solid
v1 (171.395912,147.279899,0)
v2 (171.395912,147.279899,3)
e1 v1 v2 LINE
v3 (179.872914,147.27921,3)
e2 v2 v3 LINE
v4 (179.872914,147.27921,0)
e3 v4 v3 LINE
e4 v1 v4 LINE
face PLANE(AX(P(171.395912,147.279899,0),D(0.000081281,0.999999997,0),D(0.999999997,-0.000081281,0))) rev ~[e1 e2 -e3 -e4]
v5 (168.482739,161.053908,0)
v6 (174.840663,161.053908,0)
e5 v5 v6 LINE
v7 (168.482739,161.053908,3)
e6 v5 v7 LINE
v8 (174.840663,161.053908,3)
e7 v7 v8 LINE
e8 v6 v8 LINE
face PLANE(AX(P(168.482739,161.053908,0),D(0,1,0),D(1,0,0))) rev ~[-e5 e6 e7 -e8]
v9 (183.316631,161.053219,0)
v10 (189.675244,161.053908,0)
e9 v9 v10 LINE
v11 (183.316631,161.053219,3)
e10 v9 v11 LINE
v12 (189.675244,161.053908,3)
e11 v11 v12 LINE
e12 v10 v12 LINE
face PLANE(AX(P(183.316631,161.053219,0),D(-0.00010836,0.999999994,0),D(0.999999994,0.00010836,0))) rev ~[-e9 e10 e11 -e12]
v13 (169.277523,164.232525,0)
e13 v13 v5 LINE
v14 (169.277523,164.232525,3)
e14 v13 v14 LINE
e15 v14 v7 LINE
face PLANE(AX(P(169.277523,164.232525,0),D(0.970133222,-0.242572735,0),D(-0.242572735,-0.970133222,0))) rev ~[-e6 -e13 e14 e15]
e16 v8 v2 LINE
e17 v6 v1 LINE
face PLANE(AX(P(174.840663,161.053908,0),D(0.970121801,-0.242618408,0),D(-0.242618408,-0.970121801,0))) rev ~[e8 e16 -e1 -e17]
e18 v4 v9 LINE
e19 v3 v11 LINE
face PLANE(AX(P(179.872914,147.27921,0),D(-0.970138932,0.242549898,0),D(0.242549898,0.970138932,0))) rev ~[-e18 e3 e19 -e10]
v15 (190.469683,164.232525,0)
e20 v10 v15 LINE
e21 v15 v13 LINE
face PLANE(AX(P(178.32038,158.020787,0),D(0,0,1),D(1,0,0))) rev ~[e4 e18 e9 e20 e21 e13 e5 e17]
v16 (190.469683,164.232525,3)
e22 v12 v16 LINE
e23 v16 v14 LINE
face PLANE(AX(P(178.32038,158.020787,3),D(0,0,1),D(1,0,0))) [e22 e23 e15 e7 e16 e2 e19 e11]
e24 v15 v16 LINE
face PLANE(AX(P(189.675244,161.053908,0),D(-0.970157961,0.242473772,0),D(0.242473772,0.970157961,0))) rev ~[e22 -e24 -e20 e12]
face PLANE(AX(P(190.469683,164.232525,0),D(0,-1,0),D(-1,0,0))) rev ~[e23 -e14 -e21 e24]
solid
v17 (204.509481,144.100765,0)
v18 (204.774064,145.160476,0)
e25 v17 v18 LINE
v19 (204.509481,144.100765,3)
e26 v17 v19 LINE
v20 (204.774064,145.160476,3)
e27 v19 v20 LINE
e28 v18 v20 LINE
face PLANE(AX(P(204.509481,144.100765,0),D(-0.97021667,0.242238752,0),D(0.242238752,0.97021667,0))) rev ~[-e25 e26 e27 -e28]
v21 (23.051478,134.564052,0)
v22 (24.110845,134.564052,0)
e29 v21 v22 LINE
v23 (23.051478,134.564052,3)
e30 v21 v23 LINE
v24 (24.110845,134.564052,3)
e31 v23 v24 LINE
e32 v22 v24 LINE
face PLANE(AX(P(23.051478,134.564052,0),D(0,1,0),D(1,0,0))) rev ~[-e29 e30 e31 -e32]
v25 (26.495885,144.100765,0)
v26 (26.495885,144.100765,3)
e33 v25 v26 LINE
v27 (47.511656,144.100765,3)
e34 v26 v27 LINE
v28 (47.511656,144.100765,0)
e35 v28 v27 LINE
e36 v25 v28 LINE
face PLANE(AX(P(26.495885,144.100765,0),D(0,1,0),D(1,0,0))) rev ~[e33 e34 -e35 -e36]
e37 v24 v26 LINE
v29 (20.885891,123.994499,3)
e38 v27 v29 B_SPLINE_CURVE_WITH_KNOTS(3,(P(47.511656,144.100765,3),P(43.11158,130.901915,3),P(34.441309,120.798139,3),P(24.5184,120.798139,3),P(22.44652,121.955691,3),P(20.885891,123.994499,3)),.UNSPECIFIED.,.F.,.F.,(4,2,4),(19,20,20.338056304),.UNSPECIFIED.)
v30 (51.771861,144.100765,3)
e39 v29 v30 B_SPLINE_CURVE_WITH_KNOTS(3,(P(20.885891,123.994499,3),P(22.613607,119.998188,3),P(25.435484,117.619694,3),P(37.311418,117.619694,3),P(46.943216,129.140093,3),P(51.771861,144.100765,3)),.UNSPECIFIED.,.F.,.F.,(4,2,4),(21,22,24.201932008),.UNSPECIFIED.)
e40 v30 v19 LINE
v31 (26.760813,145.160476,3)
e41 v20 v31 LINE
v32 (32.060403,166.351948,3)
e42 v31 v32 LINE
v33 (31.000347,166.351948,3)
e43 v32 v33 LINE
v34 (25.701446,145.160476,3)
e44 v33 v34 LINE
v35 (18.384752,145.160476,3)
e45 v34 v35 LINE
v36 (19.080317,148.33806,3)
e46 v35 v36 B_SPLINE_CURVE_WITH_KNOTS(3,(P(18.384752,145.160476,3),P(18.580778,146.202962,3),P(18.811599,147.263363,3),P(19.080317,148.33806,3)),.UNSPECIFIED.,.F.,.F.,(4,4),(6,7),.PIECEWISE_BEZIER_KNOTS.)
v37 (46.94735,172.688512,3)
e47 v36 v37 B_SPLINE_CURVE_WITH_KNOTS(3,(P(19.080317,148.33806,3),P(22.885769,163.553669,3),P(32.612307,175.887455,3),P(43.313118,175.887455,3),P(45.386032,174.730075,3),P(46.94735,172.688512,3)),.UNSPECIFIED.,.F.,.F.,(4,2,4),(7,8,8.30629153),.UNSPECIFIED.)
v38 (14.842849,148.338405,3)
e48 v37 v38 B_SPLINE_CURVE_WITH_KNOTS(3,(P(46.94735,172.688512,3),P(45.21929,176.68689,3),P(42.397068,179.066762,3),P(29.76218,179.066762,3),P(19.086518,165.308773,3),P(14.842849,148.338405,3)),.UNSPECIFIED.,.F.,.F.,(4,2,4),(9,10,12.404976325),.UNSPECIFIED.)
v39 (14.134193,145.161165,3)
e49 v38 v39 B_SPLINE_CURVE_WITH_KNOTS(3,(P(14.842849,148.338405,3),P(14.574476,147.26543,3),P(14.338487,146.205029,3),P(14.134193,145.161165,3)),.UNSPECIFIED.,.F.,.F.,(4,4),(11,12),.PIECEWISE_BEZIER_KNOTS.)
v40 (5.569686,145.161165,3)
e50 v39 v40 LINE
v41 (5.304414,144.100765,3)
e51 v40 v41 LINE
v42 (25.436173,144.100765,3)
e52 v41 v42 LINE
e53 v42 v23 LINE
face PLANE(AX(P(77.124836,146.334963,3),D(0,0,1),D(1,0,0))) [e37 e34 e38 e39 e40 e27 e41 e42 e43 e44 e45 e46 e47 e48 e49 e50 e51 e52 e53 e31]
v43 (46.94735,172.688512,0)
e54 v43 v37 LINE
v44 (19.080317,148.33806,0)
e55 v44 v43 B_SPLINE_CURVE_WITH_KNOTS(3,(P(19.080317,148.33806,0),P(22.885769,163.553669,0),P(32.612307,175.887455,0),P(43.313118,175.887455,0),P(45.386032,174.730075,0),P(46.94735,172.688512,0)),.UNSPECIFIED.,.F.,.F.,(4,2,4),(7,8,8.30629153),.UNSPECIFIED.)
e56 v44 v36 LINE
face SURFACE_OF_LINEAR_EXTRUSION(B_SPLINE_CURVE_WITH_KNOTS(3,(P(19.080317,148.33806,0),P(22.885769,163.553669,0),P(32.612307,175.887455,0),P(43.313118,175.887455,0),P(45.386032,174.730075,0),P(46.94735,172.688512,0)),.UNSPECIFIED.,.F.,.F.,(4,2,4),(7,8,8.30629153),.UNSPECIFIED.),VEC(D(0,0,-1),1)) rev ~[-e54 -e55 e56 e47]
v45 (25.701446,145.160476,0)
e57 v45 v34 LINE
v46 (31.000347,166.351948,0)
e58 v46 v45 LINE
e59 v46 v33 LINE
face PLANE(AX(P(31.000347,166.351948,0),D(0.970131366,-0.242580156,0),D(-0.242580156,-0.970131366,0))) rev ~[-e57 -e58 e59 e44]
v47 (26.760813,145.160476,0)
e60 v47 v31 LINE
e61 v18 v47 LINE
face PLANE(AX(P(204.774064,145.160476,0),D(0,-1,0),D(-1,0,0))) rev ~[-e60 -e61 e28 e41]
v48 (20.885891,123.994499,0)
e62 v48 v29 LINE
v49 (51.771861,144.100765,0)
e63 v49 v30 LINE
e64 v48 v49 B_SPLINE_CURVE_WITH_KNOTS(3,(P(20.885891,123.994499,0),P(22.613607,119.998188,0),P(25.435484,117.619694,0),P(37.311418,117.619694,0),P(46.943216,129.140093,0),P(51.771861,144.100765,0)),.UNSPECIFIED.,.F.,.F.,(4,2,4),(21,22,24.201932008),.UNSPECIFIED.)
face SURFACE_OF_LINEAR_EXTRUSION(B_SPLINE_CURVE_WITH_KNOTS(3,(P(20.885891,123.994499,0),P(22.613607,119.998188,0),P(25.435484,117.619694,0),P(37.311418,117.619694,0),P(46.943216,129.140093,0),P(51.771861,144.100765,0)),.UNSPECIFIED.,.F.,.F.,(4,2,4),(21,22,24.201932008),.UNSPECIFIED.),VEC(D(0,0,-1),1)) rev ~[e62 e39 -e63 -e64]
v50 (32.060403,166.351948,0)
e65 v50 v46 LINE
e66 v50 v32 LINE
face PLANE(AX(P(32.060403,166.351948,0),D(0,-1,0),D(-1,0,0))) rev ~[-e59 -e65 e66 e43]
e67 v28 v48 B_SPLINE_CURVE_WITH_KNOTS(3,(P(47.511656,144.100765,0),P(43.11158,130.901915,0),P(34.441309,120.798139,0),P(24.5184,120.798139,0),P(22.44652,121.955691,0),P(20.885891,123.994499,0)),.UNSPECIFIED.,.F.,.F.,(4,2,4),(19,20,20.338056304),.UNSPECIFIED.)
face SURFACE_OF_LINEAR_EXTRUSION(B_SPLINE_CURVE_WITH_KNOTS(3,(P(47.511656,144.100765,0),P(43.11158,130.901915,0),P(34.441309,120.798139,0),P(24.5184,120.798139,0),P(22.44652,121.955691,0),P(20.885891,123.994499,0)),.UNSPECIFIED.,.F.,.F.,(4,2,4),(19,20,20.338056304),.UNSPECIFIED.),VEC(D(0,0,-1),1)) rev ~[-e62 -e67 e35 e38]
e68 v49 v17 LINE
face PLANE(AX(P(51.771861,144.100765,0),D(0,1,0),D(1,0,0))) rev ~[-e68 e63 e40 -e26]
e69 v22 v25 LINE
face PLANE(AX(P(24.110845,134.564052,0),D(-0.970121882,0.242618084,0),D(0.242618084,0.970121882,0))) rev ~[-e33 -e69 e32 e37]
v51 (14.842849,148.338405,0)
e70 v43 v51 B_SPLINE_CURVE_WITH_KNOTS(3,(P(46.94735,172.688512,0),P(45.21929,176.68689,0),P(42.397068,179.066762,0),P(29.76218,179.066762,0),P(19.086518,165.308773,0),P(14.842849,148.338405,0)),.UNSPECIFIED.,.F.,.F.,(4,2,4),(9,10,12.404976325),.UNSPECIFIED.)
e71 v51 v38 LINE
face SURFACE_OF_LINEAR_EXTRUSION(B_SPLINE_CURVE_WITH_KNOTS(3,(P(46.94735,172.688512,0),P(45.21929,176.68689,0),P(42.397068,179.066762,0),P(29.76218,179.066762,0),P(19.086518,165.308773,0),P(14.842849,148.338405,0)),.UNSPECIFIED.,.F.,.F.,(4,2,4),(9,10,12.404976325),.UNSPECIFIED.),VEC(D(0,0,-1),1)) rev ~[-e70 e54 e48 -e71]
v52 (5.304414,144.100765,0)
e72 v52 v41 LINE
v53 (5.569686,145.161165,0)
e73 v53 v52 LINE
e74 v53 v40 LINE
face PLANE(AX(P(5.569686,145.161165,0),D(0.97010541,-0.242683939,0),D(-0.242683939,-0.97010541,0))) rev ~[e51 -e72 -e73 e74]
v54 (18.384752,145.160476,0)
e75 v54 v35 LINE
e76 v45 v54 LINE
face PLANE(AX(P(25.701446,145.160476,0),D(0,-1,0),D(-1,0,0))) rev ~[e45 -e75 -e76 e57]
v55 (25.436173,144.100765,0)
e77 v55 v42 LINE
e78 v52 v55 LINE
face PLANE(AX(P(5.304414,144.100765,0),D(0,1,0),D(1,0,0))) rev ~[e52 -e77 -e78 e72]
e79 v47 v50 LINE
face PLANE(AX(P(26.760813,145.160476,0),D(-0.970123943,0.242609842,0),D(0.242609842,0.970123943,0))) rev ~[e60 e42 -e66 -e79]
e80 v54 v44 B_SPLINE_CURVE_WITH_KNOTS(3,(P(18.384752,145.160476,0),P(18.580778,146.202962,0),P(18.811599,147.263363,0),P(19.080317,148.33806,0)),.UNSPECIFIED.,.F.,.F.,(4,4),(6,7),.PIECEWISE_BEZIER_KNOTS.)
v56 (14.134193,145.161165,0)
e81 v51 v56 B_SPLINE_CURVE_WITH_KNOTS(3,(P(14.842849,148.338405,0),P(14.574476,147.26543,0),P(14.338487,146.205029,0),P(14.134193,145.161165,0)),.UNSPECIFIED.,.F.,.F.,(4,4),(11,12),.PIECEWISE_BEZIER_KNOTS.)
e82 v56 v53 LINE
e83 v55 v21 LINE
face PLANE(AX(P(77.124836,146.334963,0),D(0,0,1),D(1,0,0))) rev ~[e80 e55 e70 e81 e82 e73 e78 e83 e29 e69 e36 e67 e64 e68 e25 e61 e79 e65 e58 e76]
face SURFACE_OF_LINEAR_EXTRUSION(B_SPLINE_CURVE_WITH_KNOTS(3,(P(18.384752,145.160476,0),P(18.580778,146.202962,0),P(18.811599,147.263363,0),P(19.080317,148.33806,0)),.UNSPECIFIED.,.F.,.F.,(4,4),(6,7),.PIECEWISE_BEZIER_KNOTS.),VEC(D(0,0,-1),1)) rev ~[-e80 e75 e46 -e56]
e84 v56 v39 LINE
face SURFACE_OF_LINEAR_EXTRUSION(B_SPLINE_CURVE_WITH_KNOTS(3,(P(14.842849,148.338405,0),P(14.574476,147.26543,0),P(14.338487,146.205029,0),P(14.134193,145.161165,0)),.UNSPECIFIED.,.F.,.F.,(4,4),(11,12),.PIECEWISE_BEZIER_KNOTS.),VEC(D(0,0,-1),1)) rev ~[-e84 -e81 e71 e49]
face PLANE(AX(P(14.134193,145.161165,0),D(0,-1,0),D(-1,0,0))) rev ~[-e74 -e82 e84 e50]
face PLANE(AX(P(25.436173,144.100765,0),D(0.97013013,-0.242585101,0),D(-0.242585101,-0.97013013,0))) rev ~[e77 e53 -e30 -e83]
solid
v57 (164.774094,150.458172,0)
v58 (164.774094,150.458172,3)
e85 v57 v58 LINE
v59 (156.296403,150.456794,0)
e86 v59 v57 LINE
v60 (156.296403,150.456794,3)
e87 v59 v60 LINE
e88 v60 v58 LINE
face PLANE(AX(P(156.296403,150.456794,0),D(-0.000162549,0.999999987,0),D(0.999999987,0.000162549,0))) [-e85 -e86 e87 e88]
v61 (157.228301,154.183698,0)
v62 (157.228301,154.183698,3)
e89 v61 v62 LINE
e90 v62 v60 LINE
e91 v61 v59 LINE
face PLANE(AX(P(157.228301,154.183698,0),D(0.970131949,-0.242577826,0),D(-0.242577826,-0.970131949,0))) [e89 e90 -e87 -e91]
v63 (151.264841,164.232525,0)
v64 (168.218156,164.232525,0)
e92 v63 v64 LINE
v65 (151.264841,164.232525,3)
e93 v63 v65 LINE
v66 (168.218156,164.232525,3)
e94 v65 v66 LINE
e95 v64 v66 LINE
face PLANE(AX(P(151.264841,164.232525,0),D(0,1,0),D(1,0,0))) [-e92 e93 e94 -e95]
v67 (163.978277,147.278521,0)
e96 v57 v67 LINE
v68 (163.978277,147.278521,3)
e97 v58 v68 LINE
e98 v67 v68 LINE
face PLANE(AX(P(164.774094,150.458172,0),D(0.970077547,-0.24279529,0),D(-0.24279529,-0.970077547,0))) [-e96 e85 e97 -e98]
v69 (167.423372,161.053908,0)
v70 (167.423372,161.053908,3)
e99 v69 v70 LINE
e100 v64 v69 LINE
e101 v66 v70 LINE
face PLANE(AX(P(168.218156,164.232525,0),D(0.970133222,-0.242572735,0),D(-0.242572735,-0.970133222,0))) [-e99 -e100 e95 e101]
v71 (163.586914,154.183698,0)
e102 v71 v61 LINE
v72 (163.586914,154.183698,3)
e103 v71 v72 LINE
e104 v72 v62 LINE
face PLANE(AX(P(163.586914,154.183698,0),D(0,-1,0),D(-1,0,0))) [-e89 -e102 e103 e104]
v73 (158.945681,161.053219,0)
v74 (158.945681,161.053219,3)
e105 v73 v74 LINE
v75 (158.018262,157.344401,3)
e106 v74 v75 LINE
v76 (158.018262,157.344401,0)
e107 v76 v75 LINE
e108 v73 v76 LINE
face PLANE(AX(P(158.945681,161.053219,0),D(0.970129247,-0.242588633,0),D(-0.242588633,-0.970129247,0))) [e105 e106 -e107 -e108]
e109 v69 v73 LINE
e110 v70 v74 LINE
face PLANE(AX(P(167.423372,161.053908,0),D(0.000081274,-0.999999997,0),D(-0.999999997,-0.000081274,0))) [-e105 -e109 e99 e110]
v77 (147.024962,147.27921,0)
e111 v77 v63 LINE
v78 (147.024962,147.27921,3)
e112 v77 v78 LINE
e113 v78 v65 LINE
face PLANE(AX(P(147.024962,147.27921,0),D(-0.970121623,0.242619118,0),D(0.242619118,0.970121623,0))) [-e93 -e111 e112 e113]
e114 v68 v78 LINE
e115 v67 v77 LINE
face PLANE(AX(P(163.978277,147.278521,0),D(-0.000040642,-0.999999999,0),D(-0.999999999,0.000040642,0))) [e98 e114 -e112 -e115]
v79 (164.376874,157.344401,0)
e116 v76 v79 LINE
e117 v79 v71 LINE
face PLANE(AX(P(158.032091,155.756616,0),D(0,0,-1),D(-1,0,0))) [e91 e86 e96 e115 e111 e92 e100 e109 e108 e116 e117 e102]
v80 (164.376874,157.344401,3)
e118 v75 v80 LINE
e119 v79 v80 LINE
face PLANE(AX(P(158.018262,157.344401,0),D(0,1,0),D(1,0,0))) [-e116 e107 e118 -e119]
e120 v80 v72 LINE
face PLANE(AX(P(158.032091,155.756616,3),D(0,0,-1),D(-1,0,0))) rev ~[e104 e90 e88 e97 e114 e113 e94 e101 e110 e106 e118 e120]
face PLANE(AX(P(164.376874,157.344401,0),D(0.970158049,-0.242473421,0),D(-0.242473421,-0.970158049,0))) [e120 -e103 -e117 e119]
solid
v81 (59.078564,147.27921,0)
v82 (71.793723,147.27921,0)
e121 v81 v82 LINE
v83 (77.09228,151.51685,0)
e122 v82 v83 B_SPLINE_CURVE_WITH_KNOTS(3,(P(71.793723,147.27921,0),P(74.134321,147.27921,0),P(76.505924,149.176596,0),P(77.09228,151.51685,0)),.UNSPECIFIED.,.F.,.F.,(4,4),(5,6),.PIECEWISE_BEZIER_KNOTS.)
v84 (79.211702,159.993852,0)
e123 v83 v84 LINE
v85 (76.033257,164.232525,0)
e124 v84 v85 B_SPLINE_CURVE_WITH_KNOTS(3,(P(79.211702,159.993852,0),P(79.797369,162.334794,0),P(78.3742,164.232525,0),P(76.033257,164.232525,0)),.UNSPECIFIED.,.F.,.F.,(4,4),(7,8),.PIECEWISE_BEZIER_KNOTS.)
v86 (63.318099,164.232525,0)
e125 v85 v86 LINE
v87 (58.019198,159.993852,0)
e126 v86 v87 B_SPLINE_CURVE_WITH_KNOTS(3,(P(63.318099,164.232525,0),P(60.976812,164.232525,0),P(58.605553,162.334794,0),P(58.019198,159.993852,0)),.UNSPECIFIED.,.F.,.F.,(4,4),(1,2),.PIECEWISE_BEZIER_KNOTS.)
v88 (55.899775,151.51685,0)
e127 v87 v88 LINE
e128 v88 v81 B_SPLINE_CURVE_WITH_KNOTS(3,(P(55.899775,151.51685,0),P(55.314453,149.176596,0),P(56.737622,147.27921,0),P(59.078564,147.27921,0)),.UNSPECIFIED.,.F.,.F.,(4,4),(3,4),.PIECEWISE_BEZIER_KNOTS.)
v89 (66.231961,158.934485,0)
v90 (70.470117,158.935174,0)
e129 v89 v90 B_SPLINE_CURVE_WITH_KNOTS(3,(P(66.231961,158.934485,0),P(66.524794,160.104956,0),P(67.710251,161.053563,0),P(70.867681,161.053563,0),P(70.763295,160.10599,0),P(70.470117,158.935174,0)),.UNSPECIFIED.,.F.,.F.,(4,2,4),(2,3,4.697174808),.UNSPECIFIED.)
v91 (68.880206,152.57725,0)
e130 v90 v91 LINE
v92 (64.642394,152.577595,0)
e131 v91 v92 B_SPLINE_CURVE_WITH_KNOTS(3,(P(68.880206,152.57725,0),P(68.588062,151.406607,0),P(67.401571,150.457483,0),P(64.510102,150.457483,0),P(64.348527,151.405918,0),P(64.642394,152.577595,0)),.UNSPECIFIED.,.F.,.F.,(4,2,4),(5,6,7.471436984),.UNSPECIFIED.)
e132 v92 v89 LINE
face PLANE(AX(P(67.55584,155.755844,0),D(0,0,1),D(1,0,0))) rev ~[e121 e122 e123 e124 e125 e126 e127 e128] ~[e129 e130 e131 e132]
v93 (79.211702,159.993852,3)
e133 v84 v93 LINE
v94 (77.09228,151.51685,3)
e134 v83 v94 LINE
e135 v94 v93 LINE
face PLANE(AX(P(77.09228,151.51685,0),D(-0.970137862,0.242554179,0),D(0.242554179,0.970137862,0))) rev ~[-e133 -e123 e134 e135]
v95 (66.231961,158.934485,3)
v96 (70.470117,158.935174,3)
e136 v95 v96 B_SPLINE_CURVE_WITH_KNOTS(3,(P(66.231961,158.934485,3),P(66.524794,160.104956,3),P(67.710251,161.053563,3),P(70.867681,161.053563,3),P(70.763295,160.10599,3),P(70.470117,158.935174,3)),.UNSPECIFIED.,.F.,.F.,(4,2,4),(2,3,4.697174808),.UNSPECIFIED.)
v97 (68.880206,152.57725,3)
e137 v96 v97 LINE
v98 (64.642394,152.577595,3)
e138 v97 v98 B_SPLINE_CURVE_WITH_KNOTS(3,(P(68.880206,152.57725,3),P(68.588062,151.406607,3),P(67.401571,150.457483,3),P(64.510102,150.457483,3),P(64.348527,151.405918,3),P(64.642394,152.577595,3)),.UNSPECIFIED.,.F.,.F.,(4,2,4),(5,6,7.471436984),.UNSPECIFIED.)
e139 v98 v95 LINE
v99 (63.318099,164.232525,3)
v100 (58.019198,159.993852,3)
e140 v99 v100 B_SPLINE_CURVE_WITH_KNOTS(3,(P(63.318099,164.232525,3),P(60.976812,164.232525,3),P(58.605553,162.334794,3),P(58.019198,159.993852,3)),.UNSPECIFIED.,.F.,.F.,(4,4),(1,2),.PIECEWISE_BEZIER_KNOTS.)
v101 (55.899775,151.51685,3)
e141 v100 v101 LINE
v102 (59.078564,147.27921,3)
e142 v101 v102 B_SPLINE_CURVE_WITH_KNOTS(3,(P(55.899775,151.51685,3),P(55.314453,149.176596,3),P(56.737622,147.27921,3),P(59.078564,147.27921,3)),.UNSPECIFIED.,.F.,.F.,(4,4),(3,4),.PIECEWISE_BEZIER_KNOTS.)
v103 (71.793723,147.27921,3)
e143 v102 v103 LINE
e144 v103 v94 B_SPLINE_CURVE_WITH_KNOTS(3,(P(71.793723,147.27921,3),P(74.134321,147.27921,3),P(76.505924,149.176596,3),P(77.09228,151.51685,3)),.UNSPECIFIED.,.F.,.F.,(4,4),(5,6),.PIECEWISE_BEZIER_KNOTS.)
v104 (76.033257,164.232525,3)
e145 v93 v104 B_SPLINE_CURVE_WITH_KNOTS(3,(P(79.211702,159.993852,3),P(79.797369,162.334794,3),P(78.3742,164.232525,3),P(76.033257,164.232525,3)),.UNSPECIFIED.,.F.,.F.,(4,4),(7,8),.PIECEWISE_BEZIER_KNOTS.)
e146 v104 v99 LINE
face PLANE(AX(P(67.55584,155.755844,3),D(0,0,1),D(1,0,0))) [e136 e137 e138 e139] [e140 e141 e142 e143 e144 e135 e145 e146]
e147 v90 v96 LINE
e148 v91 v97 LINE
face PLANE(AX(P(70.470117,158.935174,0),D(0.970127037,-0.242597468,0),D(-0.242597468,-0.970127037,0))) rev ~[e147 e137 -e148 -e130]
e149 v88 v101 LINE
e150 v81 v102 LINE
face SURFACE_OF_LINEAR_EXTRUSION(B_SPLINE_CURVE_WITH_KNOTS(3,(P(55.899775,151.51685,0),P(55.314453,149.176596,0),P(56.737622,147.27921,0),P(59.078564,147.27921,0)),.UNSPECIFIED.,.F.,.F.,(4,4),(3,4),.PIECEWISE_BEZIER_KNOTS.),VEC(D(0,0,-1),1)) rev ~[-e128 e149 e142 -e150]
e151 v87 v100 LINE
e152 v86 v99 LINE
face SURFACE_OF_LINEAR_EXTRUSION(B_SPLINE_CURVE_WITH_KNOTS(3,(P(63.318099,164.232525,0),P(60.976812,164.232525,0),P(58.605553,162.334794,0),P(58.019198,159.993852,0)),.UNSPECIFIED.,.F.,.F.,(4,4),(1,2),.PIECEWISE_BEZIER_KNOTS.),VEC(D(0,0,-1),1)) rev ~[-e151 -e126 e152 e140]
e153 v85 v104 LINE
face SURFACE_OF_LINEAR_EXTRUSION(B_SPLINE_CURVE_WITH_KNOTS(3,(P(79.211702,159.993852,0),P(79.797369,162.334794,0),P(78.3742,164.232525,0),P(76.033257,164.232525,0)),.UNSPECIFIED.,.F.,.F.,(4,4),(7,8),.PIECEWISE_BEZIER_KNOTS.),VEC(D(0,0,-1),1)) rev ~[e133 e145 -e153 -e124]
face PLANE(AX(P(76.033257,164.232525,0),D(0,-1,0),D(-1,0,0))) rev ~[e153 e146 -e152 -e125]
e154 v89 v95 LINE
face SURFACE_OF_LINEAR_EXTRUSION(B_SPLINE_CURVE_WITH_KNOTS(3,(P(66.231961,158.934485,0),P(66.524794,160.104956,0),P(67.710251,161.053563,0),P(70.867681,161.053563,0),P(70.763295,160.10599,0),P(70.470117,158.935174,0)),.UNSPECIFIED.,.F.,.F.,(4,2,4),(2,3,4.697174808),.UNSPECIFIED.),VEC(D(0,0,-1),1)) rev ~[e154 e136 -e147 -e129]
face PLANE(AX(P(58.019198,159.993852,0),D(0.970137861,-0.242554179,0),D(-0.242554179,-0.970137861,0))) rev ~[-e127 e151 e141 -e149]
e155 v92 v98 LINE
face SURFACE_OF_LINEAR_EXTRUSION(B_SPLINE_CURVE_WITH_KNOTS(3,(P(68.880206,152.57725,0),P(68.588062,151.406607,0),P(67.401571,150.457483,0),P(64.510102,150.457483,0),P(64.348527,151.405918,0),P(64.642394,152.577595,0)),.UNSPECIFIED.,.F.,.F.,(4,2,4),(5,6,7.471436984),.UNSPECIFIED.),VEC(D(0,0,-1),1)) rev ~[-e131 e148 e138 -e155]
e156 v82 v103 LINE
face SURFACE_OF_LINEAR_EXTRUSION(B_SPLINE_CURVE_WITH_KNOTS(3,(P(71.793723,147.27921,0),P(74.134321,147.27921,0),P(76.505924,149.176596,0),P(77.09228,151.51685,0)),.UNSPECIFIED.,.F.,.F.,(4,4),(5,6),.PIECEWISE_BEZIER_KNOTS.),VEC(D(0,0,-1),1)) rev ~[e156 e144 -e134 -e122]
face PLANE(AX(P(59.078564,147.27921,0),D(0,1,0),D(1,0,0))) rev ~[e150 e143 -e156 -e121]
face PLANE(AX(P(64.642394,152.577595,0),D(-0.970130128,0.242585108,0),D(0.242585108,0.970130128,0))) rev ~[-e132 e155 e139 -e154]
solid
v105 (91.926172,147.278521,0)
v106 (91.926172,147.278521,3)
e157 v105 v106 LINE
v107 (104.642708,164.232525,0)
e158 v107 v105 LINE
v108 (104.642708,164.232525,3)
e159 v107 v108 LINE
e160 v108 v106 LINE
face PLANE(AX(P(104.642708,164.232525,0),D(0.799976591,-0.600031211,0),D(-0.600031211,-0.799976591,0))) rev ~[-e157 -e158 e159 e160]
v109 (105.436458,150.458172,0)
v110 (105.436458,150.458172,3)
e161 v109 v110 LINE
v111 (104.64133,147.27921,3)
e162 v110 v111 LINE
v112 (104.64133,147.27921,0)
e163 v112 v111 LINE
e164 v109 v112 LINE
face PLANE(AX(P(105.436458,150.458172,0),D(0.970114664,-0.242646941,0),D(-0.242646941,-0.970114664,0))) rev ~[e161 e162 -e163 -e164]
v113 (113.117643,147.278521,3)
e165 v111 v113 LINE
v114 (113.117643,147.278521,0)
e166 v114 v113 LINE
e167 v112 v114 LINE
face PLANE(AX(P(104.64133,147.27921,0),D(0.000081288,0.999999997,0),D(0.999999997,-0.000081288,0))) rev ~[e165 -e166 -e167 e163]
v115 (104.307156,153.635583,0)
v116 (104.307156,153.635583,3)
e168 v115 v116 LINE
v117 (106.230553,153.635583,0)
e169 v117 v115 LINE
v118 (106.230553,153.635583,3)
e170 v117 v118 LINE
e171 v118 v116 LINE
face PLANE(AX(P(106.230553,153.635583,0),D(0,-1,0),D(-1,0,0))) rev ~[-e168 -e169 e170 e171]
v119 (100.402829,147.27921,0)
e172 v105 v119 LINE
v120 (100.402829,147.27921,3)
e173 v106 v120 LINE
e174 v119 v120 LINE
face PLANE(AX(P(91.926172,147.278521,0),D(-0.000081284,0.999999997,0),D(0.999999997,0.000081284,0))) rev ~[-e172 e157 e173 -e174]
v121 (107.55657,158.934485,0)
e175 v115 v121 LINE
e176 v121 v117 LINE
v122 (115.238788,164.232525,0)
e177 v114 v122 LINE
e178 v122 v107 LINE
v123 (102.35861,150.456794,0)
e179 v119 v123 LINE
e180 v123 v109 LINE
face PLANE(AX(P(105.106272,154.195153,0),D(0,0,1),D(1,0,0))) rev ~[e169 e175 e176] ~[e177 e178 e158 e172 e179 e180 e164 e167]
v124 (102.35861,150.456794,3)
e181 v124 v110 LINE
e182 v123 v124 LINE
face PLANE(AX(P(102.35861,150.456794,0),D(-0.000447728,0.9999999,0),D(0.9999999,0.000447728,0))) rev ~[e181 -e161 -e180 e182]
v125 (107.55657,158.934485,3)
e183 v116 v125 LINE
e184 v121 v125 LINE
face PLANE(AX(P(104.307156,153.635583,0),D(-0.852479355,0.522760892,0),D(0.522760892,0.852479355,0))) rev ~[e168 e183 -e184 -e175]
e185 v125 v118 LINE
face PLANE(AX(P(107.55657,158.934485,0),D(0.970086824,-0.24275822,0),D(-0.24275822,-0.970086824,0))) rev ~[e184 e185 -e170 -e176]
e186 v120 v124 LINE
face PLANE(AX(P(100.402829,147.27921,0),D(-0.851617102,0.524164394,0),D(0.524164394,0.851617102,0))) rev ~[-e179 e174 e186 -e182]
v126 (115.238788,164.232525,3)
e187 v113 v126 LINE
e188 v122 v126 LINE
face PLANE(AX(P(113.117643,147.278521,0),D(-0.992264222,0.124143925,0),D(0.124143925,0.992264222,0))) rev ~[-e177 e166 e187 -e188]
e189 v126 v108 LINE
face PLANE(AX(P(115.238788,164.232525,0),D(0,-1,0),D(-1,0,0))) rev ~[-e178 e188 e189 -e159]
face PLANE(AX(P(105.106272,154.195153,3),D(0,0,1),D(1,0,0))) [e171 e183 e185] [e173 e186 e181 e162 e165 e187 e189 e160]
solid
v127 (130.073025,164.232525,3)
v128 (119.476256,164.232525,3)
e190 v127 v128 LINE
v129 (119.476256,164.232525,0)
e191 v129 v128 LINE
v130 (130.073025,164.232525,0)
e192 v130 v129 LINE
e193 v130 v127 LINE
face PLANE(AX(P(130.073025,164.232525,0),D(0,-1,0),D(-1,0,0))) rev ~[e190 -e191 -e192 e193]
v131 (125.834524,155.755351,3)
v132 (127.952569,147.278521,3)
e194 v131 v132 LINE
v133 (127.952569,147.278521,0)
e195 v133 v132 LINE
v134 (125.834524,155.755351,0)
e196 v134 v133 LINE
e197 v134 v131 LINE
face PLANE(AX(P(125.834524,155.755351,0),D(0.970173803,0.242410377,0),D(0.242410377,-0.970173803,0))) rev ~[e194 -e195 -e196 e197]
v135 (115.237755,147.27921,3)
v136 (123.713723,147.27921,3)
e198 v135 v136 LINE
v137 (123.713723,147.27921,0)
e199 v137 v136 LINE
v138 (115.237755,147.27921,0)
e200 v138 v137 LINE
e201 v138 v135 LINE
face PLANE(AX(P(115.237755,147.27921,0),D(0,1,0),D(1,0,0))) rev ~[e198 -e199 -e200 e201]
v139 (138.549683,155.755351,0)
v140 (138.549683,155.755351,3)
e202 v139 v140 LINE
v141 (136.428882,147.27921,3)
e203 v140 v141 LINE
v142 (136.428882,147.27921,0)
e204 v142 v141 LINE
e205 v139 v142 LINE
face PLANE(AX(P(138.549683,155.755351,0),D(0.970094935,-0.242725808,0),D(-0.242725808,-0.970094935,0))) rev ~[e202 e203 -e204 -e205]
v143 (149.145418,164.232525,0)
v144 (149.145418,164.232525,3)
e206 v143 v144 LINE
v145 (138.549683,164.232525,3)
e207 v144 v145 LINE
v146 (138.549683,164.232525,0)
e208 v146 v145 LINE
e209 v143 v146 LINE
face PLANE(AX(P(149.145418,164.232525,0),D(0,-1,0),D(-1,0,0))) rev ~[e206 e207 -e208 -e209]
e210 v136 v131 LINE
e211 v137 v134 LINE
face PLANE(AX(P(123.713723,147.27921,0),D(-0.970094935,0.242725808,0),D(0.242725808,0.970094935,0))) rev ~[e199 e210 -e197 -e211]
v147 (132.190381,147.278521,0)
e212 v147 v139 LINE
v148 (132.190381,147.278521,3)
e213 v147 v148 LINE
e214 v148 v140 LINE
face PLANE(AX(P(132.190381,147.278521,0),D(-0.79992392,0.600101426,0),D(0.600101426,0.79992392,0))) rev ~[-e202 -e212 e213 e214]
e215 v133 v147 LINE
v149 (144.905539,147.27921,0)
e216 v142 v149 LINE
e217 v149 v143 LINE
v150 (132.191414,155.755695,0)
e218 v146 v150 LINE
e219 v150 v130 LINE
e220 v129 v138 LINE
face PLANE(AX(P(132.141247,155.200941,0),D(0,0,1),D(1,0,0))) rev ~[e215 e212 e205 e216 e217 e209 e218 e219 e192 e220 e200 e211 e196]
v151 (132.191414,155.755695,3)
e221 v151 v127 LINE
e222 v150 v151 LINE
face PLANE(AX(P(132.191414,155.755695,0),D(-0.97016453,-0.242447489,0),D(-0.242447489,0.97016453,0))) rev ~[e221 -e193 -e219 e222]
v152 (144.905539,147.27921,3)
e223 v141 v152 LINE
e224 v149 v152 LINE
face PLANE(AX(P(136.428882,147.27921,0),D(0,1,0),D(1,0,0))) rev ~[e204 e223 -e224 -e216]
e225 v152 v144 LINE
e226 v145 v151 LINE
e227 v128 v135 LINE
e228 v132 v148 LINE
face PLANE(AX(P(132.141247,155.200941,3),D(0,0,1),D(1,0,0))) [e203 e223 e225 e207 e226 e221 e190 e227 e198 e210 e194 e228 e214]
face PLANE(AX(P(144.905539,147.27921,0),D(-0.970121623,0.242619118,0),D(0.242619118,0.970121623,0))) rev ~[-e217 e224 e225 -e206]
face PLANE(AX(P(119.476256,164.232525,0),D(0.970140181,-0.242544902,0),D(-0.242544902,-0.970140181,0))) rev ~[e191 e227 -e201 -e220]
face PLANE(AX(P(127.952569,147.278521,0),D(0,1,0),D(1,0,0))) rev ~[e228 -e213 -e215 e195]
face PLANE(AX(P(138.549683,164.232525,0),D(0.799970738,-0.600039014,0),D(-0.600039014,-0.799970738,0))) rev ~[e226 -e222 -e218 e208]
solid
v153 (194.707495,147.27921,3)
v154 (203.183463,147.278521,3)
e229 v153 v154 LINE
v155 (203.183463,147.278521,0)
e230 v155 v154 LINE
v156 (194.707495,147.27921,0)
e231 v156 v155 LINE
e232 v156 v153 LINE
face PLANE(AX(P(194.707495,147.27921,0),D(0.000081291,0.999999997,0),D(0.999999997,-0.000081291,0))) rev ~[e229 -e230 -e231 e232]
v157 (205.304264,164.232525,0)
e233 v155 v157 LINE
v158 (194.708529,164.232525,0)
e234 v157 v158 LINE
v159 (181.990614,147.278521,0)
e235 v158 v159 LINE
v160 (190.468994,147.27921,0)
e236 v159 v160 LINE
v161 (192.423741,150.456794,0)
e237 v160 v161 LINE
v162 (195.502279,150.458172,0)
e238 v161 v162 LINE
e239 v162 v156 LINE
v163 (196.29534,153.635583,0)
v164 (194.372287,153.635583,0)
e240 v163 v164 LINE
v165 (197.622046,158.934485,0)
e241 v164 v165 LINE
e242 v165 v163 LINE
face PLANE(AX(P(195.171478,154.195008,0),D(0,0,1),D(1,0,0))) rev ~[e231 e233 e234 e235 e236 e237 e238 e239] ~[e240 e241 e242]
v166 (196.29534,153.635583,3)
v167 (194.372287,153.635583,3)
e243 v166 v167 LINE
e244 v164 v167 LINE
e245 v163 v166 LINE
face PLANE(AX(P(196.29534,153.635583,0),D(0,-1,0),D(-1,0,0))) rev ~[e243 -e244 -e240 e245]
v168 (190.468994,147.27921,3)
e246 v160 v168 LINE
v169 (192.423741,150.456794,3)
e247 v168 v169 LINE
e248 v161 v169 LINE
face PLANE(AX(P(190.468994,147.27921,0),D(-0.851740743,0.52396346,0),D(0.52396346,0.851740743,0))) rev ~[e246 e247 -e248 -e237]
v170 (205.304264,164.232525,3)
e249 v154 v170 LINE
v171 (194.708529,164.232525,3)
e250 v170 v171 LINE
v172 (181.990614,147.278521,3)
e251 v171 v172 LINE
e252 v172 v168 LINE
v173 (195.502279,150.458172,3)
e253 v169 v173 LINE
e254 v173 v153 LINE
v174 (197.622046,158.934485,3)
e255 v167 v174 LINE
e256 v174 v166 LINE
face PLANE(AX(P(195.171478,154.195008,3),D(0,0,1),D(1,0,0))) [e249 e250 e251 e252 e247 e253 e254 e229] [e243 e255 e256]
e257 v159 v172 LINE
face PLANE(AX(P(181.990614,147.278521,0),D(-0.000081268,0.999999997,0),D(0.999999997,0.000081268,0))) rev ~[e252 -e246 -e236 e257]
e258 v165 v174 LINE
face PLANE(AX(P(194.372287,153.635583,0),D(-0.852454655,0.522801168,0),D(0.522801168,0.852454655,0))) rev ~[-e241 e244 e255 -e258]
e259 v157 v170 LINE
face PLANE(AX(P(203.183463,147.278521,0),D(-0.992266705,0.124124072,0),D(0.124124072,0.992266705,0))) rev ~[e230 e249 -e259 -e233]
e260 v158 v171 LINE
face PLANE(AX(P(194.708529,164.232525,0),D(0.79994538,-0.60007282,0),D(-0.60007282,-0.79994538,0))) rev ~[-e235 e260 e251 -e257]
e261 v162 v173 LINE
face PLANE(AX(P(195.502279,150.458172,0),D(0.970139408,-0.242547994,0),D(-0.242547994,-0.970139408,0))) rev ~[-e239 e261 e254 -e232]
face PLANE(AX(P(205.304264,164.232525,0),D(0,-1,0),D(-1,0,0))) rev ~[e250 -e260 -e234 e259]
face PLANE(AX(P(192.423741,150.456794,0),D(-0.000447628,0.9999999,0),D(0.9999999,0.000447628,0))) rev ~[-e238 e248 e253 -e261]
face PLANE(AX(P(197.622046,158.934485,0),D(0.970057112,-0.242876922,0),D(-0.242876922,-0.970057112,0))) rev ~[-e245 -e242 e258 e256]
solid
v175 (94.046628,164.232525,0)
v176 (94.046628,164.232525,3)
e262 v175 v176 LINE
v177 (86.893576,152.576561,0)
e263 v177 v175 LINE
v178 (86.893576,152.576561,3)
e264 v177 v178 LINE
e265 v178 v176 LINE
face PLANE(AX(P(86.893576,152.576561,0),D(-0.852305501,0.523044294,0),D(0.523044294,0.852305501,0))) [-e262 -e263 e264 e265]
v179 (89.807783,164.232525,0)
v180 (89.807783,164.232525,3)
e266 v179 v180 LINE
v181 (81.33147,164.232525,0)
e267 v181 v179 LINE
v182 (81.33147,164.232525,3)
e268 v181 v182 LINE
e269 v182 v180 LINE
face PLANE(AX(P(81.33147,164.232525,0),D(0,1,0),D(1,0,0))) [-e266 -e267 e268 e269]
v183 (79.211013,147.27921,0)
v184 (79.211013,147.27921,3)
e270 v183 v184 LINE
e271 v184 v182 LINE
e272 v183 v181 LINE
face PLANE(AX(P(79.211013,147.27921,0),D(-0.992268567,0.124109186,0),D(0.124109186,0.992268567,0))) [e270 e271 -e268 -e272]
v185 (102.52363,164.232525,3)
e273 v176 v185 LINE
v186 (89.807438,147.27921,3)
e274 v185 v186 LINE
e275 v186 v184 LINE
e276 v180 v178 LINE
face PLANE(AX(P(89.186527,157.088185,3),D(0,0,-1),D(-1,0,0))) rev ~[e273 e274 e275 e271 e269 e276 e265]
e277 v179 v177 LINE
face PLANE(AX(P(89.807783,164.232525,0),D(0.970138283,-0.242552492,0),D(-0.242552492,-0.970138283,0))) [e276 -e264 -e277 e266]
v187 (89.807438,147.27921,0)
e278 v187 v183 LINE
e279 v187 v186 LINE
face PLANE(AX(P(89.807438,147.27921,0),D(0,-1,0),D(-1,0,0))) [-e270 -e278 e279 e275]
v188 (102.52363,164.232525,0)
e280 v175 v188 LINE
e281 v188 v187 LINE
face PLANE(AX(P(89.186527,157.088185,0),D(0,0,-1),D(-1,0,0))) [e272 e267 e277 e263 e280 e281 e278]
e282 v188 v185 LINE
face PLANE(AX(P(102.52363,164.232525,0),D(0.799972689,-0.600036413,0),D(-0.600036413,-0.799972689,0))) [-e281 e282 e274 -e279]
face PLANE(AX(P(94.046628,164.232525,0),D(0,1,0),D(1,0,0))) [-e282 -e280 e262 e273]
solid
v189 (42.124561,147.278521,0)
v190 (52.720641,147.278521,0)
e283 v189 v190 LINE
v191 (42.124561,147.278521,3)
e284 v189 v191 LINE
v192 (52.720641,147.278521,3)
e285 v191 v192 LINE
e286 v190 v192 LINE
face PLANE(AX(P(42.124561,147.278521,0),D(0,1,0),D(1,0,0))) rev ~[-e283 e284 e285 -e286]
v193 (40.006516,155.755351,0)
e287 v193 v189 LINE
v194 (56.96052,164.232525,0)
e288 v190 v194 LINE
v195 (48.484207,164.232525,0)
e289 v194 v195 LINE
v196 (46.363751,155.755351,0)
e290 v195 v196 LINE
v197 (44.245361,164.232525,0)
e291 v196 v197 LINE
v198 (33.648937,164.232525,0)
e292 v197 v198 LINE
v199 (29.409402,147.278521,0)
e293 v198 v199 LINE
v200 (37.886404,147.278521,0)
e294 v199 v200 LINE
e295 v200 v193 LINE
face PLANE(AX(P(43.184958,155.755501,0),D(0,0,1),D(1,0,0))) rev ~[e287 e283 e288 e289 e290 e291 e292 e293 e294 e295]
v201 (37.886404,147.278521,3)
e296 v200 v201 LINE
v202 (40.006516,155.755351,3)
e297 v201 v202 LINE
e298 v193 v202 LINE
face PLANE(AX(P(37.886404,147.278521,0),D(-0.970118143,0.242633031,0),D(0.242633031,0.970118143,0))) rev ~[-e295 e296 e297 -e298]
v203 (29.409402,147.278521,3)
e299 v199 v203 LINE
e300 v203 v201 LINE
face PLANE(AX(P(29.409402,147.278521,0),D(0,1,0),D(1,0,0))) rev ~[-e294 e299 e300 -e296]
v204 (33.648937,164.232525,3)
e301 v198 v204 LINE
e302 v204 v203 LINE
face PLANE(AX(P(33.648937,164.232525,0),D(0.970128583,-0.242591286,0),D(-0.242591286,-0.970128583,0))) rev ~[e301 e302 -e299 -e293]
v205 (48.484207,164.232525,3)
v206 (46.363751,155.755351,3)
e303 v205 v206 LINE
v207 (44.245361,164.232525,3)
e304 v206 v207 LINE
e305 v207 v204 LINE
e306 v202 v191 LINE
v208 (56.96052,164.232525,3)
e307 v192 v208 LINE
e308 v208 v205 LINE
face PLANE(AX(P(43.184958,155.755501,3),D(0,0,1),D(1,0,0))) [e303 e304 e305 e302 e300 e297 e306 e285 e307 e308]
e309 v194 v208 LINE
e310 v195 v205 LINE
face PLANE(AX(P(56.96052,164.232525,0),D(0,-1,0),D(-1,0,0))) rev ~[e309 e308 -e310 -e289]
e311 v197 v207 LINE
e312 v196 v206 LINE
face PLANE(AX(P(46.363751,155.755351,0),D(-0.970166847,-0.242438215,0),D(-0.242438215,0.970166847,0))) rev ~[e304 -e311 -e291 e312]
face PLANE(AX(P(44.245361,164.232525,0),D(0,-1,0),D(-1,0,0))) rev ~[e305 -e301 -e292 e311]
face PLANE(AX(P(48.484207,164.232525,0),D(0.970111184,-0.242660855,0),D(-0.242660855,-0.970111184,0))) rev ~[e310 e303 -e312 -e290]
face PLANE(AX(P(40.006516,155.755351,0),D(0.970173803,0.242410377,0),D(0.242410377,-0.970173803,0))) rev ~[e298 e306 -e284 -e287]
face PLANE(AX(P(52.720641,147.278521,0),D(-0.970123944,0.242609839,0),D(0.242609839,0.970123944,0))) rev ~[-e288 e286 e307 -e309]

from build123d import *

# Parameters (mm, degrees)
BOSS_EXTRUDE1_DEPTH   = 3
BOSS_EXTRUDE1_2_DEPTH = 3
BOSS_EXTRUDE1_3_DEPTH = 3
BOSS_EXTRUDE1_4_DEPTH = 3
BOSS_EXTRUDE1_5_DEPTH = 3
BOSS_EXTRUDE1_6_DEPTH = 3
BOSS_EXTRUDE1_7_DEPTH = 3
BOSS_EXTRUDE1_8_DEPTH = 3
BOSS_EXTRUDE1_9_DEPTH = 3


with BuildPart() as part:
    # Model → Boss-Extrude1 (new body)
    with BuildSketch(Plane.XY):
        Polygon((190.468994093, 147.279210033), (192.423741271, 150.456793853), (195.502278597, 150.458171892), (194.707495069, 147.279210033), (203.183463491, 147.278521014), (205.304264272, 164.232524916), (194.708528597, 164.232524916), (181.990614104, 147.278521014), align=None)
        Polygon((196.295339578, 153.635583458), (194.372287278, 153.635583458), (197.622045849, 158.934484824), align=None, mode=Mode.SUBTRACT)
    extrude(amount=BOSS_EXTRUDE1_DEPTH)


with BuildPart() as body_2:
    # Model → Boss-Extrude1 2 (new body)
    with BuildSketch(Plane.XY):
        Polygon((171.395911958, 147.279899052), (179.872913909, 147.279210033), (183.316631356, 161.053218547), (189.675244093, 161.053907566), (190.469683112, 164.232524916), (169.277522744, 164.232524916), (168.482739216, 161.053907566), (174.840662934, 161.053907566), align=None)
    extrude(amount=BOSS_EXTRUDE1_2_DEPTH)


with BuildPart() as body_3:
    # Model → Boss-Extrude1 3 (new body)
    with BuildSketch(Plane.XY):
        Polygon((147.024961986, 147.279210033), (151.264841, 164.232524916), (168.218155882, 164.232524916), (167.423372354, 161.053907566), (158.945681384, 161.053218547), (158.018261679, 157.344401002), (164.376874416, 157.344401002), (163.586914022, 154.183698149), (157.228301284, 154.183698149), (156.296402956, 150.456793853), (164.774093926, 150.458171892), (163.978276869, 147.278521014), align=None)
    extrude(amount=BOSS_EXTRUDE1_3_DEPTH)


with BuildPart() as body_4:
    # Model → Boss-Extrude1 4 (new body)
    with BuildSketch(Plane.XY):
        Polygon((149.145418257, 164.232524916), (138.549682583, 164.232524916), (132.191414355, 155.755695219), (130.073025141, 164.232524916), (119.476255938, 164.232524916), (115.237754963, 147.279210033), (123.713723385, 147.279210033), (125.834524166, 155.75535071), (127.95256887, 147.278521014), (132.190380826, 147.278521014), (138.549682583, 155.75535071), (136.428881802, 147.279210033), (144.905539243, 147.279210033), align=None)
    extrude(amount=BOSS_EXTRUDE1_4_DEPTH)


with BuildPart() as body_5:
    # Model → Boss-Extrude1 5 (new body)
    with BuildSketch(Plane.XY):
        Polygon((100.402829293, 147.279210033), (102.35861, 150.456793853), (105.436458307, 150.458171892), (104.641330269, 147.279210033), (113.117643201, 147.278521014), (115.238788491, 164.232524916), (104.642708307, 164.232524916), (91.926171852, 147.278521014), align=None)
        Polygon((106.230552816, 153.635583458), (104.307156007, 153.635583458), (107.556570069, 158.934484824), align=None, mode=Mode.SUBTRACT)
    extrude(amount=BOSS_EXTRUDE1_5_DEPTH)


with BuildPart() as body_6:
    # Model → Boss-Extrude1 6 (new body)
    with BuildSketch(Plane.XY):
        Polygon((89.807438129, 147.279210033), (79.211013435, 147.279210033), (81.331469706, 164.232524916), (89.807782638, 164.232524916), (86.893576367, 152.576561106), (94.046628123, 164.232524916), (102.523630074, 164.232524916), align=None)
    extrude(amount=BOSS_EXTRUDE1_6_DEPTH)


with BuildPart() as body_7:
    # Model → Boss-Extrude1 7 (new body)
    with BuildSketch(Plane.XY):
        Polygon((29.409402119, 147.278521014), (37.88640407, 147.278521014), (40.006515832, 155.75535071), (42.124560536, 147.278521014), (52.72064072, 147.278521014), (56.960519734, 164.232524916), (48.484206802, 164.232524916), (46.363750531, 155.75535071), (44.245361317, 164.232524916), (33.648936624, 164.232524916), align=None)
    extrude(amount=BOSS_EXTRUDE1_7_DEPTH)


with BuildPart() as body_8:
    # Model → Boss-Extrude1 8 (new body)
    with BuildSketch(Plane.XY):
        with BuildLine():
            Line((76.033257359, 164.232524916), (63.318098943, 164.232524916))
            add(Edge.make_bspline(
                [(63.318098943, 164.232524916), (60.976812051, 164.232524916), (58.605552828, 162.334794067), (58.019197577, 159.993851685)],
                knots=[1, 1, 1, 1, 2, 2, 2, 2], degree=3))
            Line((58.019197577, 159.993851685), (55.899774834, 151.516849734))
            add(Edge.make_bspline(
                [(55.899774834, 151.516849734), (55.314453111, 149.176596371), (56.737622056, 147.279210033), (59.078564438, 147.279210033)],
                knots=[3, 3, 3, 3, 4, 4, 4, 4], degree=3))
            Line((59.078564438, 147.279210033), (71.793722855, 147.279210033))
            add(Edge.make_bspline(
                [(71.793722855, 147.279210033), (74.134320728, 147.279210033), (76.50592446, 149.176596371), (77.092279712, 151.516849734)],
                knots=[5, 5, 5, 5, 6, 6, 6, 6], degree=3))
            Line((77.092279712, 151.516849734), (79.211702454, 159.993851685))
            add(Edge.make_bspline(
                [(79.211702454, 159.993851685), (79.797368687, 162.334794067), (78.374199742, 164.232524916), (76.033257359, 164.232524916)],
                knots=[7, 7, 7, 7, 8, 8, 8, 8], degree=3))
        make_face()
        with BuildLine():
            Line((64.642393647, 152.577594634), (66.231960704, 158.934484824))
            add(Edge.make_bspline(
                [(66.231960704, 158.934484824), (66.52479382, 160.104956015), (67.710251177, 161.053563057), (68.880894623, 161.053563057)],
                knots=[2, 2, 2, 2, 3, 3, 3, 3], degree=3))
            add(Edge.make_bspline(
                [(68.880894623, 161.053563057), (70.867681189, 161.053563057), (70.763294796, 160.105989543), (70.47011717, 158.935173843)],
                knots=[3, 3, 3, 3, 4, 4, 4, 4], degree=3))
            Line((70.47011717, 158.935173843), (68.880205603, 152.577250125))
            add(Edge.make_bspline(
                [(68.880205603, 152.577250125), (68.588061506, 151.406606679), (67.401570621, 150.457482873), (66.231616194, 150.457482873)],
                knots=[5, 5, 5, 5, 6, 6, 6, 6], degree=3))
            add(Edge.make_bspline(
                [(66.231616194, 150.457482873), (64.51010198, 150.457482873), (64.348527002, 151.40591766), (64.642393647, 152.577594634)],
                knots=[0, 0, 0, 0, 1, 1, 1, 1], degree=3))
        make_face(mode=Mode.SUBTRACT)
    extrude(amount=BOSS_EXTRUDE1_8_DEPTH)


with BuildPart() as body_9:
    # Model → Boss-Extrude1 9 (new body)
    with BuildSketch(Plane.XY):
        with BuildLine():
            Line((204.509480743, 144.100764938), (204.774064076, 145.160476309))
            Line((204.774064076, 145.160476309), (26.76081271, 145.160476309))
            Line((26.76081271, 145.160476309), (32.060403095, 166.351947658))
            Line((32.060403095, 166.351947658), (31.000347214, 166.351947658))
            Line((31.000347214, 166.351947658), (25.701445849, 145.160476309))
            Line((25.701445849, 145.160476309), (18.384752057, 145.160476309))
            add(Edge.make_bspline(
                [(18.384752057, 145.160476309), (18.58077799, 146.202962203), (18.811599388, 147.263362593), (19.080316836, 148.33806013)],
                knots=[6, 6, 6, 6, 7, 7, 7, 7], degree=3))
            add(Edge.make_bspline(
                [(19.080316836, 148.33806013), (22.885769309, 163.55366885), (32.612307392, 175.887455197), (40.804055437, 175.887455197)],
                knots=[7, 7, 7, 7, 8, 8, 8, 8], degree=3))
            add(Edge.make_bspline(
                [(40.804055437, 175.887455197), (43.313118479, 175.887455197), (45.386032432, 174.730075369), (46.947349706, 172.688511784)],
                knots=[8, 8, 8, 8, 9, 9, 9, 9], degree=3))
            add(Edge.make_bspline(
                [(46.947349706, 172.688511784), (45.219289811, 176.686889604), (42.397067589, 179.066761565), (38.686355242, 179.066761565)],
                knots=[9, 9, 9, 9, 10, 10, 10, 10], degree=3))
            add(Edge.make_bspline(
                [(38.686355242, 179.066761565), (29.762179897, 179.066761565), (19.086518007, 165.308772745), (14.842849389, 148.33840464)],
                knots=[10, 10, 10, 10, 11, 11, 11, 11], degree=3))
            add(Edge.make_bspline(
                [(14.842849389, 148.33840464), (14.57447645, 147.265429651), (14.33848741, 146.20502926), (14.134193247, 145.161165328)],
                knots=[11, 11, 11, 11, 12, 12, 12, 12], degree=3))
            Line((14.134193247, 145.161165328), (5.569685871, 145.161165328))
            Line((5.569685871, 145.161165328), (5.304413519, 144.100764938))
            Line((5.304413519, 144.100764938), (25.436173496, 144.100764938))
            Line((25.436173496, 144.100764938), (23.051478401, 134.564051616))
            Line((23.051478401, 134.564051616), (24.110845263, 134.564051616))
            Line((24.110845263, 134.564051616), (26.495884868, 144.100764938))
            Line((26.495884868, 144.100764938), (47.511656347, 144.100764938))
            add(Edge.make_bspline(
                [(47.511656347, 144.100764938), (43.111580393, 130.901915115), (34.441308585, 120.798139076), (27.025396044, 120.798139076)],
                knots=[19, 19, 19, 19, 20, 20, 20, 20], degree=3))
            add(Edge.make_bspline(
                [(27.025396044, 120.798139076), (24.518400059, 120.798139076), (22.446519634, 121.955691159), (20.885891379, 123.994498667)],
                knots=[20, 20, 20, 20, 21, 21, 21, 21], degree=3))
            add(Edge.make_bspline(
                [(20.885891379, 123.994498667), (22.613606765, 119.998187904), (25.435484477, 117.619693981), (29.144474277, 117.619693981)],
                knots=[21, 21, 21, 21, 22, 22, 22, 22], degree=3))
            add(Edge.make_bspline(
                [(29.144474277, 117.619693981), (37.311417634, 117.619693981), (46.943215592, 129.140093284), (51.771861424, 144.100764938)],
                knots=[22, 22, 22, 22, 23, 23, 23, 23], degree=3))
            Line((51.771861424, 144.100764938), (204.509480743, 144.100764938))
        make_face()
    extrude(amount=BOSS_EXTRUDE1_9_DEPTH)


solid = Compound([part.part, body_2.part, body_3.part, body_4.part, body_5.part, body_6.part, body_7.part, body_8.part, body_9.part])
